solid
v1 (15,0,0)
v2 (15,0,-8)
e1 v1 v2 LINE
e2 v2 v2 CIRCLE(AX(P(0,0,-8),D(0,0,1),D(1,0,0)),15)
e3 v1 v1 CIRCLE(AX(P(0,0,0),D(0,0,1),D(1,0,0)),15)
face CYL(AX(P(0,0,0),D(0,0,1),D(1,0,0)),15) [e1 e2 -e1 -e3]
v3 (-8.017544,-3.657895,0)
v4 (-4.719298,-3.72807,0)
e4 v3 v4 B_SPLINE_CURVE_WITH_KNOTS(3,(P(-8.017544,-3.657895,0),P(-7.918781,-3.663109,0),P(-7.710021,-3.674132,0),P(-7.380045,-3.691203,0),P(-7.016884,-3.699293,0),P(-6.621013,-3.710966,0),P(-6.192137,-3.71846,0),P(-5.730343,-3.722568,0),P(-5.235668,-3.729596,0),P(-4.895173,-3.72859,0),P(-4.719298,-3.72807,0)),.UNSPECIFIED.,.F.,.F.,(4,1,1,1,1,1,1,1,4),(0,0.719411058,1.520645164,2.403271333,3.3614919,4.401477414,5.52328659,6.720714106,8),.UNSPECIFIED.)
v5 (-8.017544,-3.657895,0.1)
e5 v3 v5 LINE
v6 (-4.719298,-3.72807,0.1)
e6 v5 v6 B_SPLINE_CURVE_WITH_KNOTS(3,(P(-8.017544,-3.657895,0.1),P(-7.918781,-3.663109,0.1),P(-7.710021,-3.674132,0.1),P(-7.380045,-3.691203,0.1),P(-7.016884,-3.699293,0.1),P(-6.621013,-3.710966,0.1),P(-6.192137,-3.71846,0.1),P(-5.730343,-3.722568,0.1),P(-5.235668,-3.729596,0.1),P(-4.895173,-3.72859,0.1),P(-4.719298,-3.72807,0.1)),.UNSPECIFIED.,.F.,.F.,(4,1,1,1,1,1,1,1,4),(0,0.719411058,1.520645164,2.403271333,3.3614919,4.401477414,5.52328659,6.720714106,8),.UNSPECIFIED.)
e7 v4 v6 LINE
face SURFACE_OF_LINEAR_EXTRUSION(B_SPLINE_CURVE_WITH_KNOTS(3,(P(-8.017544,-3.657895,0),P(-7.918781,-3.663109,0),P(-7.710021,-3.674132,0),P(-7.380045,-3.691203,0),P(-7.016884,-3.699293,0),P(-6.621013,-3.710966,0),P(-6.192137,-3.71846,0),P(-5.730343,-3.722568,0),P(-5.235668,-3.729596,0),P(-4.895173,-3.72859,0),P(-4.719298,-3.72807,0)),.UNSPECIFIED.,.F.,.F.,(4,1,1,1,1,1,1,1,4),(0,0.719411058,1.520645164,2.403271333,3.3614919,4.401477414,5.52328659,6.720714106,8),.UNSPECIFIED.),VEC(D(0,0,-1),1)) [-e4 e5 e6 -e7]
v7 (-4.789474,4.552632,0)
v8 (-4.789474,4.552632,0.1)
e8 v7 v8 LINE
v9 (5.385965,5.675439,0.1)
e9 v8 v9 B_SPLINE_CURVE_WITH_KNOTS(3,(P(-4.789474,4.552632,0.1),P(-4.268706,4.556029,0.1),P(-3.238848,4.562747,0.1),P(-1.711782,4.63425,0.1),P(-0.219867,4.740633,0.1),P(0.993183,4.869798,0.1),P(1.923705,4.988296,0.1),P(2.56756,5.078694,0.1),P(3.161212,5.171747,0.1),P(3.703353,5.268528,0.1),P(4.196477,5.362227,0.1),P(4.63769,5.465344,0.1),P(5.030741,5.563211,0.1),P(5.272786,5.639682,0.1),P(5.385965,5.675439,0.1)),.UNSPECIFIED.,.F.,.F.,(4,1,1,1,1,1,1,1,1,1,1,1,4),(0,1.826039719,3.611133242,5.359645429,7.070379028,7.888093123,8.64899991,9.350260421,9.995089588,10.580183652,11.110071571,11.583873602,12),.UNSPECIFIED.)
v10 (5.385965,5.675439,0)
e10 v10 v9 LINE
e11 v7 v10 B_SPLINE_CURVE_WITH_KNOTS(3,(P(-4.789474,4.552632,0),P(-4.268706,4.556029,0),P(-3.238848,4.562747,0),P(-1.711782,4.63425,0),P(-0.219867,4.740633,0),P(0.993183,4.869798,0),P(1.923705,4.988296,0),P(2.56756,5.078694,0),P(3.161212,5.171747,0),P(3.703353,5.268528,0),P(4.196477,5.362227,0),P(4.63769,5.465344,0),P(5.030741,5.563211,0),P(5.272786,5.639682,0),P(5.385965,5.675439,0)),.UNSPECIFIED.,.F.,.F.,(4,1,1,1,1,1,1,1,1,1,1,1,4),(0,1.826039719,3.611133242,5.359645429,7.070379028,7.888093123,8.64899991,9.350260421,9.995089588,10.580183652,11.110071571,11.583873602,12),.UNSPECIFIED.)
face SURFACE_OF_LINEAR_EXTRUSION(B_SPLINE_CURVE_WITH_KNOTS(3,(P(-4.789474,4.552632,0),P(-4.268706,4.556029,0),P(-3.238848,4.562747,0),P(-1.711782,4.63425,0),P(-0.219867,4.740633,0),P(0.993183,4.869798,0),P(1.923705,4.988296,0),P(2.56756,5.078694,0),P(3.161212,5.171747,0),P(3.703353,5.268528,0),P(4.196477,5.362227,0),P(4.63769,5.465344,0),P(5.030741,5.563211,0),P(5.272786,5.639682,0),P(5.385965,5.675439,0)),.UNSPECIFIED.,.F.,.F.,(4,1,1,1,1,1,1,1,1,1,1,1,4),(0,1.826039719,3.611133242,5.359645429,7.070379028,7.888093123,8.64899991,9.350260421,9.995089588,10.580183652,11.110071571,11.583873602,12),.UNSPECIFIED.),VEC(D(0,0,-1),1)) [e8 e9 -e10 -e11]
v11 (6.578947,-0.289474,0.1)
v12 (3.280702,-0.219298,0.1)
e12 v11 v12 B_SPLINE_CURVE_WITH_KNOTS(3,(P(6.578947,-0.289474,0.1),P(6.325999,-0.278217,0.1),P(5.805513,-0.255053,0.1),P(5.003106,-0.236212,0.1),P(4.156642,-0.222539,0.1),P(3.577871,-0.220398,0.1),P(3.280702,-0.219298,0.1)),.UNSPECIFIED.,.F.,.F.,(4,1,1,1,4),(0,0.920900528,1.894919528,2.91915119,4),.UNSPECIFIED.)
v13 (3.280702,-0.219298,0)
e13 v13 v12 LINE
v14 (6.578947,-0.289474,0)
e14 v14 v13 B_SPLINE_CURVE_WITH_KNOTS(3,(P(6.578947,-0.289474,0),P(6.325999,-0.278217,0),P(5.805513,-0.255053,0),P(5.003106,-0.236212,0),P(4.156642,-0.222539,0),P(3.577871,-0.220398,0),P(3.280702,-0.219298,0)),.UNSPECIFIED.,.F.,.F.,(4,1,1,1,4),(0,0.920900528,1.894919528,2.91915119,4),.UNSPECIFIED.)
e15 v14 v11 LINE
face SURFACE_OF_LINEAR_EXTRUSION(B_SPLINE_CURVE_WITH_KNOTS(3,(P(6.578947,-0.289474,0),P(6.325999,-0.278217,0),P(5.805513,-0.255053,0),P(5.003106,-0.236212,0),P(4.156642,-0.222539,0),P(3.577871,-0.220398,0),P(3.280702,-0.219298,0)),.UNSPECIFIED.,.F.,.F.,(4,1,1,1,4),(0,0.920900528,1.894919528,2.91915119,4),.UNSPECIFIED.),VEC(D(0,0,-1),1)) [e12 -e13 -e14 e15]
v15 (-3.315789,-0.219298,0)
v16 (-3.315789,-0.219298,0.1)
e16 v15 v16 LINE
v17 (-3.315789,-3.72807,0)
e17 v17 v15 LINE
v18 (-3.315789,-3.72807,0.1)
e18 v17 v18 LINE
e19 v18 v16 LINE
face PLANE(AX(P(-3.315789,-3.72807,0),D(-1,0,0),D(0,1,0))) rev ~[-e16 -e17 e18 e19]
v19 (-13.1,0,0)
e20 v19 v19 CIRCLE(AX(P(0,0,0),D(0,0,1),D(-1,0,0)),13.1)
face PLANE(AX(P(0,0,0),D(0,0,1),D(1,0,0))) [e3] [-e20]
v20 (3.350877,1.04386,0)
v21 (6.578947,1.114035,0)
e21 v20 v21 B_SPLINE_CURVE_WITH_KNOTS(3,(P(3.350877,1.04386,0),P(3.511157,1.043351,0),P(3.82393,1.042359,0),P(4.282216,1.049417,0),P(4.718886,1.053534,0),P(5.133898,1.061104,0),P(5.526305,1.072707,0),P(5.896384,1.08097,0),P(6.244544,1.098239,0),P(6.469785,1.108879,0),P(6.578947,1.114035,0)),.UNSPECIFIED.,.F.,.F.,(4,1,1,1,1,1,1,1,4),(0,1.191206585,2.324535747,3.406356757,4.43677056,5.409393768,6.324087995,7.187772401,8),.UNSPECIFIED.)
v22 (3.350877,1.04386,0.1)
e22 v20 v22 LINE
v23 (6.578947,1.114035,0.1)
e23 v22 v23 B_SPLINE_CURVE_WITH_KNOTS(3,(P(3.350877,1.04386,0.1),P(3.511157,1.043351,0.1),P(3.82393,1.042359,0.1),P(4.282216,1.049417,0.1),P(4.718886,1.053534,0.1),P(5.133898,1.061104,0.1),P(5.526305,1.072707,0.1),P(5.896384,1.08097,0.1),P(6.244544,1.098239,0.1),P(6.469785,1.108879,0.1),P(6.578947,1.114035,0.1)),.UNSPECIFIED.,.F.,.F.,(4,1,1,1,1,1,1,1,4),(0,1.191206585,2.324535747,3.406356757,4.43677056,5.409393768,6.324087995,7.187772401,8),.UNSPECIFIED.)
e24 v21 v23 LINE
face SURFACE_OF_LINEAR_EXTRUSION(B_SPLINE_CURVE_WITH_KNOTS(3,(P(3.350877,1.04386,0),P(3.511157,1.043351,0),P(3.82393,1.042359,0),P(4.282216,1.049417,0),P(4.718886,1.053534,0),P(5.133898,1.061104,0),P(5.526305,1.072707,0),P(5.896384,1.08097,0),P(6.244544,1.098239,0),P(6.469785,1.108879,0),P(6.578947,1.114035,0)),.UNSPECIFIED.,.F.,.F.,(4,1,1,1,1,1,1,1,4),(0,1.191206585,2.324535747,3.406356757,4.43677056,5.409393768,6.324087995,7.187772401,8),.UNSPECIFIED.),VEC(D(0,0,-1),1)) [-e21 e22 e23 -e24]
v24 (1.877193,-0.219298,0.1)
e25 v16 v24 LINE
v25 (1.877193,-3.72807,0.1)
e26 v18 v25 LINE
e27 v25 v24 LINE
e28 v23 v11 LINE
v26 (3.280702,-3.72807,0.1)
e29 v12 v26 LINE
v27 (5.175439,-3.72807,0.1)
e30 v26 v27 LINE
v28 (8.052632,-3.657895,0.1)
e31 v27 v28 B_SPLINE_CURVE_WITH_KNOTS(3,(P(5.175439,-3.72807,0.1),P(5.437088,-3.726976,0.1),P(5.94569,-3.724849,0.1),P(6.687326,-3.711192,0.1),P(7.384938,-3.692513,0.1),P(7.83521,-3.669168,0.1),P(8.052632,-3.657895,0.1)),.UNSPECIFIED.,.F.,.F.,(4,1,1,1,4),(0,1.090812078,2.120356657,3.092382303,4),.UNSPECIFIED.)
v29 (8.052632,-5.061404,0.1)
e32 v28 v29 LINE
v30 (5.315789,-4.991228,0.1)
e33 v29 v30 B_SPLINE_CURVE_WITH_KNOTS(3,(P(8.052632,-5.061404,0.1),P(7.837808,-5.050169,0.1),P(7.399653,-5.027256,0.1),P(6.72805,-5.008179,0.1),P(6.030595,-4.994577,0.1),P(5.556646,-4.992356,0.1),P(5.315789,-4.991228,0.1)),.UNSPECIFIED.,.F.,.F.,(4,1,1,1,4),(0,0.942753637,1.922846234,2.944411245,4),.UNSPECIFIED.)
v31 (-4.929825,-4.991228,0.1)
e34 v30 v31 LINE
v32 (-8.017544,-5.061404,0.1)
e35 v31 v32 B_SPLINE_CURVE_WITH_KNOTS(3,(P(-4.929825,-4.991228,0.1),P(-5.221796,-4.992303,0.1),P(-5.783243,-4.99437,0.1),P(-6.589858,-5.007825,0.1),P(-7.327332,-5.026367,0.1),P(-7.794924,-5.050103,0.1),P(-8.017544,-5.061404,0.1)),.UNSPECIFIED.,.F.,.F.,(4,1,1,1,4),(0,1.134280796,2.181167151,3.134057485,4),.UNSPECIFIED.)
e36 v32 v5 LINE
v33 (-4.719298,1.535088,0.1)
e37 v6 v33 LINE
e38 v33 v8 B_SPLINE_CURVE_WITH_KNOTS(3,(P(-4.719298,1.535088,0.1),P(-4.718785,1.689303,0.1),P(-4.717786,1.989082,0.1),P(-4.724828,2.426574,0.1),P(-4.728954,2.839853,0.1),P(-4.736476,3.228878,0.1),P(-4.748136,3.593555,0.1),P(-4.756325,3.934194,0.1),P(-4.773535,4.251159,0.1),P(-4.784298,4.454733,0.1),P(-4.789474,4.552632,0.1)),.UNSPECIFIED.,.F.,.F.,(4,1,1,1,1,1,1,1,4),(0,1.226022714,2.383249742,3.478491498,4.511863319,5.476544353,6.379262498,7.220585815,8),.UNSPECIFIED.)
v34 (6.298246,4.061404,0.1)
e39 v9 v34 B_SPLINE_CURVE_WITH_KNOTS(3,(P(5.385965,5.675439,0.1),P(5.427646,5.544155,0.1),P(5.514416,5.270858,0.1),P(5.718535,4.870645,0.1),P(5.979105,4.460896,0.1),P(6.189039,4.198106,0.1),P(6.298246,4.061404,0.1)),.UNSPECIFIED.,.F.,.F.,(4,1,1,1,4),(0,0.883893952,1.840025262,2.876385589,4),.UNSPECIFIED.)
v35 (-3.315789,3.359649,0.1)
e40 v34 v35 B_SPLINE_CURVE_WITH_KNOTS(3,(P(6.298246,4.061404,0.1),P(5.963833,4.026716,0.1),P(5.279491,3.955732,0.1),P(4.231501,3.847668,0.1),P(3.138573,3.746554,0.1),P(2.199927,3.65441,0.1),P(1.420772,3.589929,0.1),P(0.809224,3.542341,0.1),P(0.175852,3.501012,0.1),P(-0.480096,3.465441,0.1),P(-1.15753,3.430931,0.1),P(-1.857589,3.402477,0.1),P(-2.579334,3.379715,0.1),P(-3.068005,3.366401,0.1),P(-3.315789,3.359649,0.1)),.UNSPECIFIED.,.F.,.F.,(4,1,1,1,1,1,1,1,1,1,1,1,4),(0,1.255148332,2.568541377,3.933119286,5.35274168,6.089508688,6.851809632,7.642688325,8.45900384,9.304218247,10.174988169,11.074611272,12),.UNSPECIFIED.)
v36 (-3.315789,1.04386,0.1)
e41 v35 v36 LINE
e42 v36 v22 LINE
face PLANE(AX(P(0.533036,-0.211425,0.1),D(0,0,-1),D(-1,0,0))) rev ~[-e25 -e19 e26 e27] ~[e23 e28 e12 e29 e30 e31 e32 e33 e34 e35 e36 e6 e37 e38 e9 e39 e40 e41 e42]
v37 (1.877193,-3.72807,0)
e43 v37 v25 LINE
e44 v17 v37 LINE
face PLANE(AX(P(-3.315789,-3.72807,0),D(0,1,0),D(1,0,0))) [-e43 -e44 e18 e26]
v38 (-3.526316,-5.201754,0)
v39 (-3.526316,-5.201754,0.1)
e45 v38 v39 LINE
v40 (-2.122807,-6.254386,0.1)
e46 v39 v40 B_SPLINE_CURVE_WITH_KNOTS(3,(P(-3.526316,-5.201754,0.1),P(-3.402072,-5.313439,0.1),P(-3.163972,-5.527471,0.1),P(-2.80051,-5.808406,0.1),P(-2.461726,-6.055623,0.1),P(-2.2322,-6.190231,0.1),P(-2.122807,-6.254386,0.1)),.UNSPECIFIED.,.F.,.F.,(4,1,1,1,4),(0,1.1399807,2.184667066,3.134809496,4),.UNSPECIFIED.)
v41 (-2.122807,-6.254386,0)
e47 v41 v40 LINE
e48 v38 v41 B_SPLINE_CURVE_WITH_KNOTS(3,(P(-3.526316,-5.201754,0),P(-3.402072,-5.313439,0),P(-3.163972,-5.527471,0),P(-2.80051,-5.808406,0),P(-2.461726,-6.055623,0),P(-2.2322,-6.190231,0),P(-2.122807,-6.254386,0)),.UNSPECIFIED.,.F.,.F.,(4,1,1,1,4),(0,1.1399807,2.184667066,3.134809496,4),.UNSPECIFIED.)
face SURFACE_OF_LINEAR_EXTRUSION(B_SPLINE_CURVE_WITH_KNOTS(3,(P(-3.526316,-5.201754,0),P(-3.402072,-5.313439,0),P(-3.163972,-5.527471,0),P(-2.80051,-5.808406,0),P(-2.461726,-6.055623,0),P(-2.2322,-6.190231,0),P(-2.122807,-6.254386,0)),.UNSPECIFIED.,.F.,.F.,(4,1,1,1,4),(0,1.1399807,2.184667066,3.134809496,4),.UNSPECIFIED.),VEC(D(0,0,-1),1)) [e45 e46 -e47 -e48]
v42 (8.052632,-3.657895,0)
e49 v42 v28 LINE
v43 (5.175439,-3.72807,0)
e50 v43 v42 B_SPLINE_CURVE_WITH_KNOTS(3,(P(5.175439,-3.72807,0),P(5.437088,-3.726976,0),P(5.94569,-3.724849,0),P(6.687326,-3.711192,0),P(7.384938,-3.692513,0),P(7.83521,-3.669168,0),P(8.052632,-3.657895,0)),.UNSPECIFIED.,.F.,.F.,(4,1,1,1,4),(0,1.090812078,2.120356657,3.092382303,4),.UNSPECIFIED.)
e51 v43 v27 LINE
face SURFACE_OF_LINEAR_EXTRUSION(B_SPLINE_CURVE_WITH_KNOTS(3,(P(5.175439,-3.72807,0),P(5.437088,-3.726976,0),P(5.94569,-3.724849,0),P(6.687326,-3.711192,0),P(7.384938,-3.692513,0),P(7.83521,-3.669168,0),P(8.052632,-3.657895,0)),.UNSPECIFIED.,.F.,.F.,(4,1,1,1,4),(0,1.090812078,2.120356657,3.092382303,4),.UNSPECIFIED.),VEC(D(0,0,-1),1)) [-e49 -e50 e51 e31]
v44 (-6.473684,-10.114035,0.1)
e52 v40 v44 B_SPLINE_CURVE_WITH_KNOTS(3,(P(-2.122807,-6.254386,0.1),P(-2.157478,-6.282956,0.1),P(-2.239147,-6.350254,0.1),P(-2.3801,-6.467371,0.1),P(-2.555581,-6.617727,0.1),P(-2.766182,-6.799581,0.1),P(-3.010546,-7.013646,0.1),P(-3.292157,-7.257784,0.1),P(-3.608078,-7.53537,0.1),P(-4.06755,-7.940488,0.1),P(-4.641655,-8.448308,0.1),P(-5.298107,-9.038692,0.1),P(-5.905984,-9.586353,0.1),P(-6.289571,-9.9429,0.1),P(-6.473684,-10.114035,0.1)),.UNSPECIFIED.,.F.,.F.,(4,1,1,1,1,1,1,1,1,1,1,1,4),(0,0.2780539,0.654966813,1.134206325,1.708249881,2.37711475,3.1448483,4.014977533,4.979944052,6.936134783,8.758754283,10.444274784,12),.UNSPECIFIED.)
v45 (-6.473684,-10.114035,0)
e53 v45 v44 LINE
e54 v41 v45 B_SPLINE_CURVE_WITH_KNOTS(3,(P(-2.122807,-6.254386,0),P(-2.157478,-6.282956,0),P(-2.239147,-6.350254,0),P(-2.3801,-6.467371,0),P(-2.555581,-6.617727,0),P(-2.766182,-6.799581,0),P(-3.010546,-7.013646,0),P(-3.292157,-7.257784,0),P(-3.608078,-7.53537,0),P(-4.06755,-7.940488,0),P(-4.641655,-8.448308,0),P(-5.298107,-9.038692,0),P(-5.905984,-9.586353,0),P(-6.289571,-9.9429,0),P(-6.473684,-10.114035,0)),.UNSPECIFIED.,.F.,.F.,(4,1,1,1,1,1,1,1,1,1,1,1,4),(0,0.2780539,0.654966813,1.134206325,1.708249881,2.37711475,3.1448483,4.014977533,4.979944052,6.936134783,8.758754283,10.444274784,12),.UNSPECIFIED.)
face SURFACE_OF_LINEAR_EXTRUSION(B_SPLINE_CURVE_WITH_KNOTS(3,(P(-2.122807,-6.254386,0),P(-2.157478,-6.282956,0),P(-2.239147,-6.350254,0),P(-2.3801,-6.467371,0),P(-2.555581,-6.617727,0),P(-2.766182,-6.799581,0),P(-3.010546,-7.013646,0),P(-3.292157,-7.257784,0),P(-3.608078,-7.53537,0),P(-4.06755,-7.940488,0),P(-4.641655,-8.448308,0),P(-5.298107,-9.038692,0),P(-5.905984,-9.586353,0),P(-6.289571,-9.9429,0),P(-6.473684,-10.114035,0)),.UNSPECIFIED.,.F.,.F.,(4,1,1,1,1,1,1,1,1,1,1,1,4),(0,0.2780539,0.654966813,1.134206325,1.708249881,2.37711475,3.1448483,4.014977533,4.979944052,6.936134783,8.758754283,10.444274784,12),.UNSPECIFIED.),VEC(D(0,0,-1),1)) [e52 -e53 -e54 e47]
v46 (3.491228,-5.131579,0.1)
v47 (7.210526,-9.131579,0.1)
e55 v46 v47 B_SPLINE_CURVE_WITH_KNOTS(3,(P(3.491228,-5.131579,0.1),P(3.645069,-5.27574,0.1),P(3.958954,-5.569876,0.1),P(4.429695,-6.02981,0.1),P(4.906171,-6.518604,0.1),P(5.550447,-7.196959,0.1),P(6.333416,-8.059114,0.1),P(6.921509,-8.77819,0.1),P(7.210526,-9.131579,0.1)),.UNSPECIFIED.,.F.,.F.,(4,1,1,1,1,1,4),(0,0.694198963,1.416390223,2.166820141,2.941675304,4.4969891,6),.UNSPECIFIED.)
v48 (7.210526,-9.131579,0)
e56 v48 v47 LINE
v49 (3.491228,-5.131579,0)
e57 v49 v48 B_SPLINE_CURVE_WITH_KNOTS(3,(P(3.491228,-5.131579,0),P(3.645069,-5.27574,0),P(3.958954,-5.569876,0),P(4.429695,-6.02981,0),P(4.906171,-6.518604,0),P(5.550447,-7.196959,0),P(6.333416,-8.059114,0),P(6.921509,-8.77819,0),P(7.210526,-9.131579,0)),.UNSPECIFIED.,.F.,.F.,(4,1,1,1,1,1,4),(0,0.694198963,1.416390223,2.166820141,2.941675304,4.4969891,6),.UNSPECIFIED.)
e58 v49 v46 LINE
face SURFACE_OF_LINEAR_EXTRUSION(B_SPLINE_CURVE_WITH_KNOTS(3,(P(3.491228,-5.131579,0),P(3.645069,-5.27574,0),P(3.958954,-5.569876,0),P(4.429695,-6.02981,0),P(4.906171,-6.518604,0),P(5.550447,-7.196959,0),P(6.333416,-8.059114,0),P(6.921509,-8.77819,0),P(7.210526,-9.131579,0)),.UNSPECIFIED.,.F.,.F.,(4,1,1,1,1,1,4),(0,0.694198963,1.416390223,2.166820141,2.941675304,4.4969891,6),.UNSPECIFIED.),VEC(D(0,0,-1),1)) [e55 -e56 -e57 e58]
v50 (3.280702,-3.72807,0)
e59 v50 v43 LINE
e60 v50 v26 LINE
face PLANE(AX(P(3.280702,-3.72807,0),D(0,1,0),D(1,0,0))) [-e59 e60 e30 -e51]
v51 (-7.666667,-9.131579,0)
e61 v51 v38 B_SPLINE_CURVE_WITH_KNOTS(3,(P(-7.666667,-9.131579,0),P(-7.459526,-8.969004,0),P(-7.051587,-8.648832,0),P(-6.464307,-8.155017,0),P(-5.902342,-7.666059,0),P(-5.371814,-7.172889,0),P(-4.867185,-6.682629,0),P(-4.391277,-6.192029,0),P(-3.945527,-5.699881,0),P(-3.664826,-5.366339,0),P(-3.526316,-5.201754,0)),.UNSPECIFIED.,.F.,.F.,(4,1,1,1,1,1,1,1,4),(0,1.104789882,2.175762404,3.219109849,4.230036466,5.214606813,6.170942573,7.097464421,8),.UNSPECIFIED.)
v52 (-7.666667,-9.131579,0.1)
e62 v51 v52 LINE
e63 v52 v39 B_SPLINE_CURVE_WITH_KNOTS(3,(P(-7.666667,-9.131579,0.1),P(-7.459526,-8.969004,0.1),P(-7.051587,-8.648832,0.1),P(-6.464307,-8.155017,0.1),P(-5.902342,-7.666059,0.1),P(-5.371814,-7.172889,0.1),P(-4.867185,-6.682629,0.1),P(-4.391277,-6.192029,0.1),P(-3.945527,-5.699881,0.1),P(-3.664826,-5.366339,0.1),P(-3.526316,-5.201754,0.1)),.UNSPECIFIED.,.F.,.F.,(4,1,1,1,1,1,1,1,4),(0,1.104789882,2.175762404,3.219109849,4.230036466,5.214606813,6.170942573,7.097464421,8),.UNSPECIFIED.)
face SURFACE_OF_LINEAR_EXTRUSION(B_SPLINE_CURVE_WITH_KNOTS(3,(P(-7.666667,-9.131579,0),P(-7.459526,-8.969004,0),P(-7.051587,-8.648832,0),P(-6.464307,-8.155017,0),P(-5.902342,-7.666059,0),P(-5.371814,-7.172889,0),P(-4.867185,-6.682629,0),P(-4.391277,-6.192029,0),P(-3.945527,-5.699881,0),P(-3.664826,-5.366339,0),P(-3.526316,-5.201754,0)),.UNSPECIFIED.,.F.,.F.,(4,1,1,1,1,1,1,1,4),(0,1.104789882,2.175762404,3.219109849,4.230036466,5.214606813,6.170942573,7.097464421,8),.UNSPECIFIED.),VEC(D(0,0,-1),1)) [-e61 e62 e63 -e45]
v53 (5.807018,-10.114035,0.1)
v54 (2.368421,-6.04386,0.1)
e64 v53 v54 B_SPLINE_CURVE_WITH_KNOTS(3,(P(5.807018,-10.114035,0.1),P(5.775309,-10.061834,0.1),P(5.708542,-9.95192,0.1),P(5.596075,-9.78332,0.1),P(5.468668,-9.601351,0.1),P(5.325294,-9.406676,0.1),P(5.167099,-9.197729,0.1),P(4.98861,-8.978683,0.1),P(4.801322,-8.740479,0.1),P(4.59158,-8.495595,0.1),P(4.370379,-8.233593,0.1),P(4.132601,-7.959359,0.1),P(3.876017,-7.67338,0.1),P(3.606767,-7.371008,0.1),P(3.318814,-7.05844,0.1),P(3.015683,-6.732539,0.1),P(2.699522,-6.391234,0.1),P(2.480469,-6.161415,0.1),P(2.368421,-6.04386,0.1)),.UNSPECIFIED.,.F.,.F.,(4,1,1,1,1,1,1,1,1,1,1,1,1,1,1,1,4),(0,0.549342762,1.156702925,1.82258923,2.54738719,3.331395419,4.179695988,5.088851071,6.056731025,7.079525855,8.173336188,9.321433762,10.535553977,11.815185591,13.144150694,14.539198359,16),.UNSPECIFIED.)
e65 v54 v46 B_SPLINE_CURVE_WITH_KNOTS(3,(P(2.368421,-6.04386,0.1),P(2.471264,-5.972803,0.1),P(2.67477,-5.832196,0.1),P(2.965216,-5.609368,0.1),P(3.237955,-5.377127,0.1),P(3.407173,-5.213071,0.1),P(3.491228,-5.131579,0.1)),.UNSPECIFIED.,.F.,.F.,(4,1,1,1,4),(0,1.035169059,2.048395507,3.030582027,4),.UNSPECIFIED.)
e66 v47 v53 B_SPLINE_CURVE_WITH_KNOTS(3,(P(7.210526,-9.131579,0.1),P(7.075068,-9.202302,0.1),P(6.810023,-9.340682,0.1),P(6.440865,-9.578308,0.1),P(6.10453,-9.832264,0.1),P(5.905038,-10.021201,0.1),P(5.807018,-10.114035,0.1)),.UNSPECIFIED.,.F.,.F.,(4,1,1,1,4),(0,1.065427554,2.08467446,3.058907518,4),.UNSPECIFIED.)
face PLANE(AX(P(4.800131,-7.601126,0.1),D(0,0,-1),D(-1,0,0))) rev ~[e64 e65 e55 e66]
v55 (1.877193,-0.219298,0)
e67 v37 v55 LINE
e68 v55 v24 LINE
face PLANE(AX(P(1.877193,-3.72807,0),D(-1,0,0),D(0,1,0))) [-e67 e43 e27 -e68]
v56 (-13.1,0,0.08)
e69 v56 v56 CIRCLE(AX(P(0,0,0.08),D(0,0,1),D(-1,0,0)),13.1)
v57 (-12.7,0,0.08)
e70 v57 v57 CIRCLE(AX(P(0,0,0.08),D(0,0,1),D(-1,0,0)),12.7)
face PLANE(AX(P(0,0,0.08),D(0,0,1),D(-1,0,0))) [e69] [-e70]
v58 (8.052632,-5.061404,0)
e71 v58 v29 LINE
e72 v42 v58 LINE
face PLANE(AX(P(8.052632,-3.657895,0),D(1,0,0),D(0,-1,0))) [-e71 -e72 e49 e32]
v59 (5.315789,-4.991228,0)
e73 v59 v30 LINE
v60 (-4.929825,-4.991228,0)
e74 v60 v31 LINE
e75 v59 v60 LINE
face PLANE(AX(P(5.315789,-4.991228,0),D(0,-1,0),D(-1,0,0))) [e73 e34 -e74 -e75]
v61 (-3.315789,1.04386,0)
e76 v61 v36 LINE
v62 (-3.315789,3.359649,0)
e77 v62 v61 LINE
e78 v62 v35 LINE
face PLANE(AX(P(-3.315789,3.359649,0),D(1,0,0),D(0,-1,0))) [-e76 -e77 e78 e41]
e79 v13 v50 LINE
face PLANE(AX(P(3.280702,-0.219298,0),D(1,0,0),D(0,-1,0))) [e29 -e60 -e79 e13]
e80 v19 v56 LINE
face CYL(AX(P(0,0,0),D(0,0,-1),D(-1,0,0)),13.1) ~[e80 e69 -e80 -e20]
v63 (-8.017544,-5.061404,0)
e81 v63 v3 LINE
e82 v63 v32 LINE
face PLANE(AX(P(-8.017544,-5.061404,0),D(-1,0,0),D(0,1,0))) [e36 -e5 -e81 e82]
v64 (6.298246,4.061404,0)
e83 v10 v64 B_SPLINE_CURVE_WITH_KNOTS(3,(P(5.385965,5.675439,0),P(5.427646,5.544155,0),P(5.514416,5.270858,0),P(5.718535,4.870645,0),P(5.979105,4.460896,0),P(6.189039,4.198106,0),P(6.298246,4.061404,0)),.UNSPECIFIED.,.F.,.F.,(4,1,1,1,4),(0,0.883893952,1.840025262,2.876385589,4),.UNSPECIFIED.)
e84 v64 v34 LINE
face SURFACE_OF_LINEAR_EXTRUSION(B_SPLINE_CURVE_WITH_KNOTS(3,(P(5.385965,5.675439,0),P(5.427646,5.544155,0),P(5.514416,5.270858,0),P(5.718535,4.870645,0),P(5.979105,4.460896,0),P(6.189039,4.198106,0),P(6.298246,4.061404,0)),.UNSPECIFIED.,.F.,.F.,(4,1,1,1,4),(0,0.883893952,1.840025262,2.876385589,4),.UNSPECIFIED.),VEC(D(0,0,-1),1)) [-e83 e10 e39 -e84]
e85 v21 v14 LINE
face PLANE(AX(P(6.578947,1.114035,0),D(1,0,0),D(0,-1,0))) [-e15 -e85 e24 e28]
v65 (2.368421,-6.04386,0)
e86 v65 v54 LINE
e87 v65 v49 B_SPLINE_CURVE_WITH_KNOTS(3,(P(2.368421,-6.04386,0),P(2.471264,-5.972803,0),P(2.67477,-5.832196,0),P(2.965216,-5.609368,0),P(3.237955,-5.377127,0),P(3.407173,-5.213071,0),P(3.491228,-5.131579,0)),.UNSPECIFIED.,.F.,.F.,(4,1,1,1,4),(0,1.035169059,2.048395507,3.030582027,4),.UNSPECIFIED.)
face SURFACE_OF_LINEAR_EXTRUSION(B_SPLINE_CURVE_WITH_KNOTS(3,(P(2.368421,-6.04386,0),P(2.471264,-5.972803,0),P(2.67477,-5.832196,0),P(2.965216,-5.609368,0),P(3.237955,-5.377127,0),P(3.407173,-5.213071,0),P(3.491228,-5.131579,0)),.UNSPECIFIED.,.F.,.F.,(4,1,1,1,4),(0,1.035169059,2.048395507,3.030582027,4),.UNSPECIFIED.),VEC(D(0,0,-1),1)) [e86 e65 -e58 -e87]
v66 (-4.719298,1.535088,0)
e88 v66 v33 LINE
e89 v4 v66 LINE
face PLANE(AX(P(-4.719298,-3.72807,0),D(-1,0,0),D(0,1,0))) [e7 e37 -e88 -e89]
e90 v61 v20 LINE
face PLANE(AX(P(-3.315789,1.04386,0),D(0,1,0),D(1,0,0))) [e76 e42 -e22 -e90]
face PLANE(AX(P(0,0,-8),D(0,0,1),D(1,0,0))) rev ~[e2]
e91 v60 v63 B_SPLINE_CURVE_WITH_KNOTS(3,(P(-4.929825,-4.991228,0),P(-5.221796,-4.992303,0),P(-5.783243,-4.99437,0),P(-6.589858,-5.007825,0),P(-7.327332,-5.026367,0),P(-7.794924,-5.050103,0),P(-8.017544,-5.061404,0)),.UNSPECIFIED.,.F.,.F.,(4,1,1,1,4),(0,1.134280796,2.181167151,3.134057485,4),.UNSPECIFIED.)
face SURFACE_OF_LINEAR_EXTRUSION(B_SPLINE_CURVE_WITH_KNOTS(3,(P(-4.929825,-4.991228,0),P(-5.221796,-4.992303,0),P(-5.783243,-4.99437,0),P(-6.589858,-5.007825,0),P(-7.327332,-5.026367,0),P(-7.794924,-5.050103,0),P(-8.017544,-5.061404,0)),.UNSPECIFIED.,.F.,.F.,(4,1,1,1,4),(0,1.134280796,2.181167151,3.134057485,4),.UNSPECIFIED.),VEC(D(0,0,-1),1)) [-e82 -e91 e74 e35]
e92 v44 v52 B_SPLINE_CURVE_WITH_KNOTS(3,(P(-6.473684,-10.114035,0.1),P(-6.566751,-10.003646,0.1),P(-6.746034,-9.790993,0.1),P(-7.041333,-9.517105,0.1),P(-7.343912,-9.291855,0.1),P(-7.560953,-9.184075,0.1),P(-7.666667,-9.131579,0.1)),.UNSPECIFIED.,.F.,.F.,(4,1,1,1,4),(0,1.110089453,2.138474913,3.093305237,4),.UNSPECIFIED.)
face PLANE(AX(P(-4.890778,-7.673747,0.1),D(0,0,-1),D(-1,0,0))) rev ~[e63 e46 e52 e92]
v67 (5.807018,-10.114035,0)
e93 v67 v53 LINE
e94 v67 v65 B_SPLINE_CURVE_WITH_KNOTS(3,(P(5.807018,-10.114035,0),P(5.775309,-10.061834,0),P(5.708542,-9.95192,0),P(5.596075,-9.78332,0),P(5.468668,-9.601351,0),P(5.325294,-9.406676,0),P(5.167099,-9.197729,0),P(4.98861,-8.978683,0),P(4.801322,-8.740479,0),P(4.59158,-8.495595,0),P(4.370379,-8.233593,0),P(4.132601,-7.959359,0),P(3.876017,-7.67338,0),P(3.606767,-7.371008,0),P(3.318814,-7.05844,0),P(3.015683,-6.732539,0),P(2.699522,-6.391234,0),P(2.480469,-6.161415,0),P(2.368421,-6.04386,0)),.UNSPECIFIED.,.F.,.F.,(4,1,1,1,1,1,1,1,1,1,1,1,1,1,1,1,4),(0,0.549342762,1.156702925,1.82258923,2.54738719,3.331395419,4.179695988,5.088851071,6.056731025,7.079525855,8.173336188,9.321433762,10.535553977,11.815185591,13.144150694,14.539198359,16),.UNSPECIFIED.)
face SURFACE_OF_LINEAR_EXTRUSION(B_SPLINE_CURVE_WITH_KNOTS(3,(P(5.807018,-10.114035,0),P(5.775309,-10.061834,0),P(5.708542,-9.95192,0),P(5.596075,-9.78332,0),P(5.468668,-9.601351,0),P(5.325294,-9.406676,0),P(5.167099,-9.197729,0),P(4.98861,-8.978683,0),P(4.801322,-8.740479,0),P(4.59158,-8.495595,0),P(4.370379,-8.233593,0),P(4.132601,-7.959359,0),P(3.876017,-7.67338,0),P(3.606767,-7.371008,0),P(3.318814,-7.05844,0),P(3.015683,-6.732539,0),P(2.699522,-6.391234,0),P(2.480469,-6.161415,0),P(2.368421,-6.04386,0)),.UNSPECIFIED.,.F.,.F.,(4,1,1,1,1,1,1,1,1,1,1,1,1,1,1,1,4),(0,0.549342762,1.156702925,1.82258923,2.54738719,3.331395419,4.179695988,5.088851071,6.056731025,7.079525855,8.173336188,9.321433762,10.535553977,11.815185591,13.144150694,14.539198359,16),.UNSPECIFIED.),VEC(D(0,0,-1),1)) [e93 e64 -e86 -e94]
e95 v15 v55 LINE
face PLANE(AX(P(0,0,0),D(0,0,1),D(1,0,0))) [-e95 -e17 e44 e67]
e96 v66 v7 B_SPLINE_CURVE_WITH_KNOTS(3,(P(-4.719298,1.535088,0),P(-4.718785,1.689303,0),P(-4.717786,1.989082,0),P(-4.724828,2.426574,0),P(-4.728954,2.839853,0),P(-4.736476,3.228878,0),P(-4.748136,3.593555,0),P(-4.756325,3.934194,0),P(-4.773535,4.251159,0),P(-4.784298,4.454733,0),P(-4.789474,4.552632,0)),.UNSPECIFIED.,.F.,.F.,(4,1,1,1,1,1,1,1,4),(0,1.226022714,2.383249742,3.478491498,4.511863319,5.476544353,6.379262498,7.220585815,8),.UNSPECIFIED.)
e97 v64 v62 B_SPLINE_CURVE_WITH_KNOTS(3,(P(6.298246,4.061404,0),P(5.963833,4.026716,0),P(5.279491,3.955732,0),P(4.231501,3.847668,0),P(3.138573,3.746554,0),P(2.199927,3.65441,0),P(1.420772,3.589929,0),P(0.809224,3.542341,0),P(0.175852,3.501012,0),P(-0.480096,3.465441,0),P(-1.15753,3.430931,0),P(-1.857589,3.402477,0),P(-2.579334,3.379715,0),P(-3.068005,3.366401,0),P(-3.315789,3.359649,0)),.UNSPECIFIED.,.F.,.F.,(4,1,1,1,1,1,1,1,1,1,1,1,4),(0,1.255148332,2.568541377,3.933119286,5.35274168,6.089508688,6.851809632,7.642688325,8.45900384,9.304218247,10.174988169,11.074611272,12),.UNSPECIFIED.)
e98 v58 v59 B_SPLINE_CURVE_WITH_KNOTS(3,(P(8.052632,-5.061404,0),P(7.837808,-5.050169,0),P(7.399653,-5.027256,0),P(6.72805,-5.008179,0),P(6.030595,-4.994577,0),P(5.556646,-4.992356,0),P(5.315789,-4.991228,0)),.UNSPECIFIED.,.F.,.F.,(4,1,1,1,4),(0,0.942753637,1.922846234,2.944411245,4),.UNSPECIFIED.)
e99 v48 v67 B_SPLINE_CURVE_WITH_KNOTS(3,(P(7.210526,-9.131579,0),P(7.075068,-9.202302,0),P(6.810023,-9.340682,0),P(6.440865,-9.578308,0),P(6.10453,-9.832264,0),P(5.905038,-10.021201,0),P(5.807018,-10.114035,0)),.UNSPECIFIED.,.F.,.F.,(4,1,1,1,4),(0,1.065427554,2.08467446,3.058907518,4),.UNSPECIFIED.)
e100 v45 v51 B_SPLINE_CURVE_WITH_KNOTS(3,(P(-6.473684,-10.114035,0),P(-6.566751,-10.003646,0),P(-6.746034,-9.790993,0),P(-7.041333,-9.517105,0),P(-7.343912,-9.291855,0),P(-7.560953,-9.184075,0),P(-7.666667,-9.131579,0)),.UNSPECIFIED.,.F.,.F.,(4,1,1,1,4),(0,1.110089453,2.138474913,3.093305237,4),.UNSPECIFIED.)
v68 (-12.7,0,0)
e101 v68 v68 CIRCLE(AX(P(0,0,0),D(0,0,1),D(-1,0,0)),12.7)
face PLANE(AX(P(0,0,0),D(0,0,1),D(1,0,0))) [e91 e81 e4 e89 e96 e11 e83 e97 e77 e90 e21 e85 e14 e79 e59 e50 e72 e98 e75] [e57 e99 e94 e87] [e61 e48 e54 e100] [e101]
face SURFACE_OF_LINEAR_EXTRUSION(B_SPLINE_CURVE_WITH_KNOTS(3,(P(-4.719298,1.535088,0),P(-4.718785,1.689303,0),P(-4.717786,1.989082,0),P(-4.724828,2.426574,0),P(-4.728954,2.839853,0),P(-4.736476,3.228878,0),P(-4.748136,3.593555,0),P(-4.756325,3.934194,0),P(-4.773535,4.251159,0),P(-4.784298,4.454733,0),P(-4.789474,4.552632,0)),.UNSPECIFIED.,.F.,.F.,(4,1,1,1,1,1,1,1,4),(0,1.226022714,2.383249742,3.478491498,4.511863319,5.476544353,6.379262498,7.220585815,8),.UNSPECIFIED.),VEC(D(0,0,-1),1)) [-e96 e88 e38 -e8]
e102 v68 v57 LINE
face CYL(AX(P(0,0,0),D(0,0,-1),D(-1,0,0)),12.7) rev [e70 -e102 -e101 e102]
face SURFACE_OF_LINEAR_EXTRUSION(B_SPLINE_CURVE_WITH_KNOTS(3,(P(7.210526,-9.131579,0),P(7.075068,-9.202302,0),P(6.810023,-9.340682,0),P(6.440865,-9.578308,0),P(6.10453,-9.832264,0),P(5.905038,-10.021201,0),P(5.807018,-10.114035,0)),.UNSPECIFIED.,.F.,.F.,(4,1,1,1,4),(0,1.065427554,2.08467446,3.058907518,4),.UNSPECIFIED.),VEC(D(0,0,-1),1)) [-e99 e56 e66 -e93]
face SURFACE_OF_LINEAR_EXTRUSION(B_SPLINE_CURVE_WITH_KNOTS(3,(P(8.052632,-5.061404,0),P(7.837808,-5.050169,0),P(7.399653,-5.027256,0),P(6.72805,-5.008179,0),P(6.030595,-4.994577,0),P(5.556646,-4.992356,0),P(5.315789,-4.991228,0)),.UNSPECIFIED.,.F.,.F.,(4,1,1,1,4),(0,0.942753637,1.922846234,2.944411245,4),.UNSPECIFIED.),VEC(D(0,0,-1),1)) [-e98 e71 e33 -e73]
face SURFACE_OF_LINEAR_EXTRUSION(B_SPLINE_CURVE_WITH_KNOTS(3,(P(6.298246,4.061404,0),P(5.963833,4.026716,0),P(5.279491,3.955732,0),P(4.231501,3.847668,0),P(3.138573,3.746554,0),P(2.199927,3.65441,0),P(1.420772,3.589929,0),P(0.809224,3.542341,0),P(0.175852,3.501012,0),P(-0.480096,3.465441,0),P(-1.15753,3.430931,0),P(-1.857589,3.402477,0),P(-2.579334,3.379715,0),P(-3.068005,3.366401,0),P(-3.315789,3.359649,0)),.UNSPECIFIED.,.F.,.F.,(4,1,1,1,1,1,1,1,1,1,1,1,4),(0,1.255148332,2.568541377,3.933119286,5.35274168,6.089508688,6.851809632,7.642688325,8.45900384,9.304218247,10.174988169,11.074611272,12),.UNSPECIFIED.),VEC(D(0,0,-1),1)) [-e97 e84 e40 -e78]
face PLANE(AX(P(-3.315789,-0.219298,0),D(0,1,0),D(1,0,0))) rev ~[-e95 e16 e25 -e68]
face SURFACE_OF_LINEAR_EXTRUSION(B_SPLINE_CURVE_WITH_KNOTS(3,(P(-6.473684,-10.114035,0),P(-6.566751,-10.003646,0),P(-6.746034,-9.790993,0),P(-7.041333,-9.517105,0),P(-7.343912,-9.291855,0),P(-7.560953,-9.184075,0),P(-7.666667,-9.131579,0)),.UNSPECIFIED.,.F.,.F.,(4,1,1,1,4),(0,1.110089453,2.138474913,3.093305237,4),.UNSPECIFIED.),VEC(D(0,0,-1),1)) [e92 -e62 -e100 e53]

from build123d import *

# Parameters (mm, degrees)
SKETCH_1_R               = 15
DIAMETER30_HEIGHT8_DEPTH = 8
SKETCH_2_W               = 5.192982456
SKETCH_2_H               = 3.508771929
CHARACTER_DEPTH          = 0.1
SKETCH_3_R               = 13.1
SKETCH_3_R_2             = 12.7
INK_RING_DEPTH           = 0.08


with BuildPart() as part:
    # 草图1 → Diameter30_Height8 (new body)
    with BuildSketch(Plane.XY):
        Circle(SKETCH_1_R)
    extrude(amount=-DIAMETER30_HEIGHT8_DEPTH)

    # 草图2 → Character_兵 (add)
    # profile 1 of 3: a face of its own
    with BuildSketch(Plane.XY):
        with BuildLine():
            add(Edge.make_bspline(
                [(5.385964912, 5.675438596), (5.427646333, 5.544154901), (5.514415642, 5.270858182), (5.718534697, 4.870645294), (5.979105034, 4.460896452), (6.189038604, 4.198106369), (6.298245614, 4.061403509)],
                knots=[0, 0, 0, 0, 0.883893952, 1.840025262, 2.876385589, 4, 4, 4, 4], degree=3))
            add(Edge.make_bspline(
                [(6.298245614, 4.061403509), (5.963833471, 4.026716097), (5.279490907, 3.955731615), (4.231500891, 3.847667949), (3.138573287, 3.746554234), (2.199926718, 3.654410468), (1.420771678, 3.589929187), (0.809223667, 3.542341458), (0.175852477, 3.501012073), (-0.480095669, 3.465441213), (-1.157529916, 3.430930645), (-1.857588828, 3.402476855), (-2.579333786, 3.379715375), (-3.06800455, 3.366400533), (-3.315789474, 3.359649123)],
                knots=[0, 0, 0, 0, 1.255148332, 2.568541377, 3.933119286, 5.35274168, 6.089508688, 6.851809632, 7.642688325, 8.45900384, 9.304218247, 10.174988169, 11.074611272, 12, 12, 12, 12], degree=3))
            Line((-3.315789474, 3.359649123), (-3.315789474, 1.043859649))
            Line((-3.315789474, 1.043859649), (3.350877193, 1.043859649))
            add(Edge.make_bspline(
                [(3.350877193, 1.043859649), (3.511157354, 1.043351179), (3.823930109, 1.042358944), (4.282215924, 1.049417071), (4.718886002, 1.053533845), (5.133897674, 1.061104446), (5.526304771, 1.072707016), (5.896383806, 1.080969698), (6.244544047, 1.09823882), (6.469784841, 1.108878558), (6.578947368, 1.114035088)],
                knots=[0, 0, 0, 0, 1.191206585, 2.324535747, 3.406356757, 4.43677056, 5.409393768, 6.324087995, 7.187772401, 8, 8, 8, 8], degree=3))
            Line((6.578947368, 1.114035088), (6.578947368, -0.289473684))
            add(Edge.make_bspline(
                [(6.578947368, -0.289473684), (6.325999471, -0.278216628), (5.805513386, -0.255053199), (5.003105502, -0.23621154), (4.156642469, -0.222539126), (3.577870773, -0.220397737), (3.280701754, -0.219298246)],
                knots=[0, 0, 0, 0, 0.920900528, 1.894919528, 2.91915119, 4, 4, 4, 4], degree=3))
            Line((3.280701754, -0.219298246), (3.280701754, -3.728070175))
            Line((3.280701754, -3.728070175), (5.175438596, -3.728070175))
            add(Edge.make_bspline(
                [(5.175438596, -3.728070175), (5.437087744, -3.726975877), (5.945690026, -3.724848744), (6.687326433, -3.711192023), (7.384937776, -3.692513148), (7.835209995, -3.669167553), (8.052631579, -3.657894737)],
                knots=[0, 0, 0, 0, 1.090812078, 2.120356657, 3.092382303, 4, 4, 4, 4], degree=3))
            Line((8.052631579, -3.657894737), (8.052631579, -5.061403509))
            add(Edge.make_bspline(
                [(8.052631579, -5.061403509), (7.837808318, -5.050169454), (7.399653446, -5.027256405), (6.728050321, -5.008178757), (6.030595105, -4.994576557), (5.556645778, -4.992356355), (5.315789474, -4.99122807)],
                knots=[0, 0, 0, 0, 0.942753637, 1.922846234, 2.944411245, 4, 4, 4, 4], degree=3))
            Line((5.315789474, -4.99122807), (-4.929824561, -4.99122807))
            add(Edge.make_bspline(
                [(-4.929824561, -4.99122807), (-5.221796086, -4.992303015), (-5.783243216, -4.994370081), (-6.589858446, -5.007824944), (-7.327331729, -5.026367125), (-7.794924107, -5.050102938), (-8.01754386, -5.061403509)],
                knots=[0, 0, 0, 0, 1.134280796, 2.181167151, 3.134057485, 4, 4, 4, 4], degree=3))
            Line((-8.01754386, -5.061403509), (-8.01754386, -3.657894737))
            add(Edge.make_bspline(
                [(-8.01754386, -3.657894737), (-7.918780668, -3.663109409), (-7.710021339, -3.67413185), (-7.380044631, -3.691202686), (-7.016884144, -3.699292609), (-6.621013356, -3.710966152), (-6.192136611, -3.718460184), (-5.730343207, -3.722568458), (-5.235668056, -3.729595696), (-4.895172776, -3.728589765), (-4.719298246, -3.728070175)],
                knots=[0, 0, 0, 0, 0.719411058, 1.520645164, 2.403271333, 3.3614919, 4.401477414, 5.52328659, 6.720714106, 8, 8, 8, 8], degree=3))
            Line((-4.719298246, -3.728070175), (-4.719298246, 1.535087719))
            add(Edge.make_bspline(
                [(-4.719298246, 1.535087719), (-4.718784553, 1.689303498), (-4.717785992, 1.989081562), (-4.724827935, 2.426573997), (-4.728954195, 2.839853385), (-4.736476359, 3.228877821), (-4.748135548, 3.593555392), (-4.756324903, 3.934194089), (-4.77353537, 4.251158894), (-4.784297949, 4.45473273), (-4.789473684, 4.552631579)],
                knots=[0, 0, 0, 0, 1.226022714, 2.383249742, 3.478491498, 4.511863319, 5.476544353, 6.379262498, 7.220585815, 8, 8, 8, 8], degree=3))
            add(Edge.make_bspline(
                [(-4.789473684, 4.552631579), (-4.268706026, 4.556028892), (-3.23884814, 4.562747339), (-1.711781979, 4.634250298), (-0.219866652, 4.740633472), (0.993183313, 4.869797657), (1.923704926, 4.988295648), (2.567560235, 5.078693798), (3.161212168, 5.171746835), (3.703352911, 5.268528417), (4.196476895, 5.362226591), (4.637690365, 5.465343924), (5.030740941, 5.563211427), (5.272785841, 5.639681531), (5.385964912, 5.675438596)],
                knots=[0, 0, 0, 0, 1.826039719, 3.611133242, 5.359645429, 7.070379028, 7.888093123, 8.64899991, 9.350260421, 9.995089588, 10.580183652, 11.110071571, 11.583873602, 12, 12, 12, 12], degree=3))
        make_face()
        with Locations((-0.719298246, -1.973684211)):
            Rectangle(SKETCH_2_W, SKETCH_2_H, mode=Mode.SUBTRACT)
    # profile 2 of 3: a face of its own
    with BuildSketch(Plane.XY):
        with BuildLine():
            add(Edge.make_bspline(
                [(-2.122807018, -6.254385965), (-2.157477947, -6.282955909), (-2.239146675, -6.350253527), (-2.380099943, -6.467370774), (-2.555580621, -6.61772706), (-2.766181537, -6.799581185), (-3.010546273, -7.013645708), (-3.292157091, -7.257784349), (-3.608078345, -7.535369573), (-4.067550245, -7.940488445), (-4.641654961, -8.448307776), (-5.298106508, -9.038691618), (-5.905984263, -9.586353364), (-6.289571124, -9.942900475), (-6.473684211, -10.114035088)],
                knots=[0, 0, 0, 0, 0.2780539, 0.654966813, 1.134206325, 1.708249881, 2.37711475, 3.1448483, 4.014977533, 4.979944052, 6.936134783, 8.758754283, 10.444274784, 12, 12, 12, 12], degree=3))
            add(Edge.make_bspline(
                [(-6.473684211, -10.114035088), (-6.56675088, -10.003646022), (-6.746034395, -9.790992666), (-7.041333181, -9.517105251), (-7.343912266, -9.291855461), (-7.560952619, -9.184075455), (-7.666666667, -9.131578947)],
                knots=[0, 0, 0, 0, 1.110089453, 2.138474913, 3.093305237, 4, 4, 4, 4], degree=3))
            add(Edge.make_bspline(
                [(-7.666666667, -9.131578947), (-7.459526486, -8.969004344), (-7.051586638, -8.648831509), (-6.464306615, -8.155016872), (-5.902342388, -7.666058703), (-5.371814437, -7.172889256), (-4.86718458, -6.682628792), (-4.391277213, -6.192029207), (-3.945527473, -5.699881064), (-3.664825977, -5.366338586), (-3.526315789, -5.201754386)],
                knots=[0, 0, 0, 0, 1.104789882, 2.175762404, 3.219109849, 4.230036466, 5.214606813, 6.170942573, 7.097464421, 8, 8, 8, 8], degree=3))
            add(Edge.make_bspline(
                [(-3.526315789, -5.201754386), (-3.402072492, -5.313438732), (-3.163971761, -5.527471401), (-2.800509792, -5.808406095), (-2.461726053, -6.055622784), (-2.232199656, -6.190231325), (-2.122807018, -6.254385965)],
                knots=[0, 0, 0, 0, 1.1399807, 2.184667066, 3.134809496, 4, 4, 4, 4], degree=3))
        make_face()
    # profile 3 of 3: a face of its own
    with BuildSketch(Plane.XY):
        with BuildLine():
            add(Edge.make_bspline(
                [(3.49122807, -5.131578947), (3.64506879, -5.27574038), (3.958953573, -5.569876289), (4.429694762, -6.029809869), (4.906171195, -6.5186042), (5.550446937, -7.196959293), (6.333416052, -8.059114332), (6.921508711, -8.778189908), (7.210526316, -9.131578947)],
                knots=[0, 0, 0, 0, 0.694198963, 1.416390223, 2.166820141, 2.941675304, 4.4969891, 6, 6, 6, 6], degree=3))
            add(Edge.make_bspline(
                [(7.210526316, -9.131578947), (7.075068051, -9.202301891), (6.810022921, -9.340682313), (6.440864575, -9.578307626), (6.104530191, -9.83226378), (5.905037831, -10.021201035), (5.807017544, -10.114035088)],
                knots=[0, 0, 0, 0, 1.065427554, 2.08467446, 3.058907518, 4, 4, 4, 4], degree=3))
            add(Edge.make_bspline(
                [(5.807017544, -10.114035088), (5.775308721, -10.061834257), (5.708542231, -9.951919541), (5.596075389, -9.783319805), (5.468667601, -9.601351476), (5.325294262, -9.406676418), (5.167099041, -9.197729098), (4.988610452, -8.978683169), (4.801321577, -8.740479229), (4.591580283, -8.495595111), (4.370378942, -8.233593029), (4.132600709, -7.959359408), (3.876016732, -7.67337978), (3.606767352, -7.371008487), (3.318813913, -7.058440113), (3.015682826, -6.732539485), (2.699522295, -6.391233684), (2.480469315, -6.161414802), (2.368421053, -6.043859649)],
                knots=[0, 0, 0, 0, 0.549342762, 1.156702925, 1.82258923, 2.54738719, 3.331395419, 4.179695988, 5.088851071, 6.056731025, 7.079525855, 8.173336188, 9.321433762, 10.535553977, 11.815185591, 13.144150694, 14.539198359, 16, 16, 16, 16], degree=3))
            add(Edge.make_bspline(
                [(2.368421053, -6.043859649), (2.471264109, -5.972803187), (2.674770245, -5.832196455), (2.965216422, -5.609367892), (3.237954519, -5.37712719), (3.407172595, -5.213070577), (3.49122807, -5.131578947)],
                knots=[0, 0, 0, 0, 1.035169059, 2.048395507, 3.030582027, 4, 4, 4, 4], degree=3))
        make_face()
    extrude(amount=CHARACTER_DEPTH)

    # 草图3 → Ink_ring (add)
    with BuildSketch(Plane.XY):
        with Locations(Location((0, 0, 0), (0, 0, 180))):
            Circle(SKETCH_3_R)
        with Locations(Location((0, 0, 0), (0, 0, 180))):
            Circle(SKETCH_3_R_2, mode=Mode.SUBTRACT)
    extrude(amount=INK_RING_DEPTH)


solid = part.part
